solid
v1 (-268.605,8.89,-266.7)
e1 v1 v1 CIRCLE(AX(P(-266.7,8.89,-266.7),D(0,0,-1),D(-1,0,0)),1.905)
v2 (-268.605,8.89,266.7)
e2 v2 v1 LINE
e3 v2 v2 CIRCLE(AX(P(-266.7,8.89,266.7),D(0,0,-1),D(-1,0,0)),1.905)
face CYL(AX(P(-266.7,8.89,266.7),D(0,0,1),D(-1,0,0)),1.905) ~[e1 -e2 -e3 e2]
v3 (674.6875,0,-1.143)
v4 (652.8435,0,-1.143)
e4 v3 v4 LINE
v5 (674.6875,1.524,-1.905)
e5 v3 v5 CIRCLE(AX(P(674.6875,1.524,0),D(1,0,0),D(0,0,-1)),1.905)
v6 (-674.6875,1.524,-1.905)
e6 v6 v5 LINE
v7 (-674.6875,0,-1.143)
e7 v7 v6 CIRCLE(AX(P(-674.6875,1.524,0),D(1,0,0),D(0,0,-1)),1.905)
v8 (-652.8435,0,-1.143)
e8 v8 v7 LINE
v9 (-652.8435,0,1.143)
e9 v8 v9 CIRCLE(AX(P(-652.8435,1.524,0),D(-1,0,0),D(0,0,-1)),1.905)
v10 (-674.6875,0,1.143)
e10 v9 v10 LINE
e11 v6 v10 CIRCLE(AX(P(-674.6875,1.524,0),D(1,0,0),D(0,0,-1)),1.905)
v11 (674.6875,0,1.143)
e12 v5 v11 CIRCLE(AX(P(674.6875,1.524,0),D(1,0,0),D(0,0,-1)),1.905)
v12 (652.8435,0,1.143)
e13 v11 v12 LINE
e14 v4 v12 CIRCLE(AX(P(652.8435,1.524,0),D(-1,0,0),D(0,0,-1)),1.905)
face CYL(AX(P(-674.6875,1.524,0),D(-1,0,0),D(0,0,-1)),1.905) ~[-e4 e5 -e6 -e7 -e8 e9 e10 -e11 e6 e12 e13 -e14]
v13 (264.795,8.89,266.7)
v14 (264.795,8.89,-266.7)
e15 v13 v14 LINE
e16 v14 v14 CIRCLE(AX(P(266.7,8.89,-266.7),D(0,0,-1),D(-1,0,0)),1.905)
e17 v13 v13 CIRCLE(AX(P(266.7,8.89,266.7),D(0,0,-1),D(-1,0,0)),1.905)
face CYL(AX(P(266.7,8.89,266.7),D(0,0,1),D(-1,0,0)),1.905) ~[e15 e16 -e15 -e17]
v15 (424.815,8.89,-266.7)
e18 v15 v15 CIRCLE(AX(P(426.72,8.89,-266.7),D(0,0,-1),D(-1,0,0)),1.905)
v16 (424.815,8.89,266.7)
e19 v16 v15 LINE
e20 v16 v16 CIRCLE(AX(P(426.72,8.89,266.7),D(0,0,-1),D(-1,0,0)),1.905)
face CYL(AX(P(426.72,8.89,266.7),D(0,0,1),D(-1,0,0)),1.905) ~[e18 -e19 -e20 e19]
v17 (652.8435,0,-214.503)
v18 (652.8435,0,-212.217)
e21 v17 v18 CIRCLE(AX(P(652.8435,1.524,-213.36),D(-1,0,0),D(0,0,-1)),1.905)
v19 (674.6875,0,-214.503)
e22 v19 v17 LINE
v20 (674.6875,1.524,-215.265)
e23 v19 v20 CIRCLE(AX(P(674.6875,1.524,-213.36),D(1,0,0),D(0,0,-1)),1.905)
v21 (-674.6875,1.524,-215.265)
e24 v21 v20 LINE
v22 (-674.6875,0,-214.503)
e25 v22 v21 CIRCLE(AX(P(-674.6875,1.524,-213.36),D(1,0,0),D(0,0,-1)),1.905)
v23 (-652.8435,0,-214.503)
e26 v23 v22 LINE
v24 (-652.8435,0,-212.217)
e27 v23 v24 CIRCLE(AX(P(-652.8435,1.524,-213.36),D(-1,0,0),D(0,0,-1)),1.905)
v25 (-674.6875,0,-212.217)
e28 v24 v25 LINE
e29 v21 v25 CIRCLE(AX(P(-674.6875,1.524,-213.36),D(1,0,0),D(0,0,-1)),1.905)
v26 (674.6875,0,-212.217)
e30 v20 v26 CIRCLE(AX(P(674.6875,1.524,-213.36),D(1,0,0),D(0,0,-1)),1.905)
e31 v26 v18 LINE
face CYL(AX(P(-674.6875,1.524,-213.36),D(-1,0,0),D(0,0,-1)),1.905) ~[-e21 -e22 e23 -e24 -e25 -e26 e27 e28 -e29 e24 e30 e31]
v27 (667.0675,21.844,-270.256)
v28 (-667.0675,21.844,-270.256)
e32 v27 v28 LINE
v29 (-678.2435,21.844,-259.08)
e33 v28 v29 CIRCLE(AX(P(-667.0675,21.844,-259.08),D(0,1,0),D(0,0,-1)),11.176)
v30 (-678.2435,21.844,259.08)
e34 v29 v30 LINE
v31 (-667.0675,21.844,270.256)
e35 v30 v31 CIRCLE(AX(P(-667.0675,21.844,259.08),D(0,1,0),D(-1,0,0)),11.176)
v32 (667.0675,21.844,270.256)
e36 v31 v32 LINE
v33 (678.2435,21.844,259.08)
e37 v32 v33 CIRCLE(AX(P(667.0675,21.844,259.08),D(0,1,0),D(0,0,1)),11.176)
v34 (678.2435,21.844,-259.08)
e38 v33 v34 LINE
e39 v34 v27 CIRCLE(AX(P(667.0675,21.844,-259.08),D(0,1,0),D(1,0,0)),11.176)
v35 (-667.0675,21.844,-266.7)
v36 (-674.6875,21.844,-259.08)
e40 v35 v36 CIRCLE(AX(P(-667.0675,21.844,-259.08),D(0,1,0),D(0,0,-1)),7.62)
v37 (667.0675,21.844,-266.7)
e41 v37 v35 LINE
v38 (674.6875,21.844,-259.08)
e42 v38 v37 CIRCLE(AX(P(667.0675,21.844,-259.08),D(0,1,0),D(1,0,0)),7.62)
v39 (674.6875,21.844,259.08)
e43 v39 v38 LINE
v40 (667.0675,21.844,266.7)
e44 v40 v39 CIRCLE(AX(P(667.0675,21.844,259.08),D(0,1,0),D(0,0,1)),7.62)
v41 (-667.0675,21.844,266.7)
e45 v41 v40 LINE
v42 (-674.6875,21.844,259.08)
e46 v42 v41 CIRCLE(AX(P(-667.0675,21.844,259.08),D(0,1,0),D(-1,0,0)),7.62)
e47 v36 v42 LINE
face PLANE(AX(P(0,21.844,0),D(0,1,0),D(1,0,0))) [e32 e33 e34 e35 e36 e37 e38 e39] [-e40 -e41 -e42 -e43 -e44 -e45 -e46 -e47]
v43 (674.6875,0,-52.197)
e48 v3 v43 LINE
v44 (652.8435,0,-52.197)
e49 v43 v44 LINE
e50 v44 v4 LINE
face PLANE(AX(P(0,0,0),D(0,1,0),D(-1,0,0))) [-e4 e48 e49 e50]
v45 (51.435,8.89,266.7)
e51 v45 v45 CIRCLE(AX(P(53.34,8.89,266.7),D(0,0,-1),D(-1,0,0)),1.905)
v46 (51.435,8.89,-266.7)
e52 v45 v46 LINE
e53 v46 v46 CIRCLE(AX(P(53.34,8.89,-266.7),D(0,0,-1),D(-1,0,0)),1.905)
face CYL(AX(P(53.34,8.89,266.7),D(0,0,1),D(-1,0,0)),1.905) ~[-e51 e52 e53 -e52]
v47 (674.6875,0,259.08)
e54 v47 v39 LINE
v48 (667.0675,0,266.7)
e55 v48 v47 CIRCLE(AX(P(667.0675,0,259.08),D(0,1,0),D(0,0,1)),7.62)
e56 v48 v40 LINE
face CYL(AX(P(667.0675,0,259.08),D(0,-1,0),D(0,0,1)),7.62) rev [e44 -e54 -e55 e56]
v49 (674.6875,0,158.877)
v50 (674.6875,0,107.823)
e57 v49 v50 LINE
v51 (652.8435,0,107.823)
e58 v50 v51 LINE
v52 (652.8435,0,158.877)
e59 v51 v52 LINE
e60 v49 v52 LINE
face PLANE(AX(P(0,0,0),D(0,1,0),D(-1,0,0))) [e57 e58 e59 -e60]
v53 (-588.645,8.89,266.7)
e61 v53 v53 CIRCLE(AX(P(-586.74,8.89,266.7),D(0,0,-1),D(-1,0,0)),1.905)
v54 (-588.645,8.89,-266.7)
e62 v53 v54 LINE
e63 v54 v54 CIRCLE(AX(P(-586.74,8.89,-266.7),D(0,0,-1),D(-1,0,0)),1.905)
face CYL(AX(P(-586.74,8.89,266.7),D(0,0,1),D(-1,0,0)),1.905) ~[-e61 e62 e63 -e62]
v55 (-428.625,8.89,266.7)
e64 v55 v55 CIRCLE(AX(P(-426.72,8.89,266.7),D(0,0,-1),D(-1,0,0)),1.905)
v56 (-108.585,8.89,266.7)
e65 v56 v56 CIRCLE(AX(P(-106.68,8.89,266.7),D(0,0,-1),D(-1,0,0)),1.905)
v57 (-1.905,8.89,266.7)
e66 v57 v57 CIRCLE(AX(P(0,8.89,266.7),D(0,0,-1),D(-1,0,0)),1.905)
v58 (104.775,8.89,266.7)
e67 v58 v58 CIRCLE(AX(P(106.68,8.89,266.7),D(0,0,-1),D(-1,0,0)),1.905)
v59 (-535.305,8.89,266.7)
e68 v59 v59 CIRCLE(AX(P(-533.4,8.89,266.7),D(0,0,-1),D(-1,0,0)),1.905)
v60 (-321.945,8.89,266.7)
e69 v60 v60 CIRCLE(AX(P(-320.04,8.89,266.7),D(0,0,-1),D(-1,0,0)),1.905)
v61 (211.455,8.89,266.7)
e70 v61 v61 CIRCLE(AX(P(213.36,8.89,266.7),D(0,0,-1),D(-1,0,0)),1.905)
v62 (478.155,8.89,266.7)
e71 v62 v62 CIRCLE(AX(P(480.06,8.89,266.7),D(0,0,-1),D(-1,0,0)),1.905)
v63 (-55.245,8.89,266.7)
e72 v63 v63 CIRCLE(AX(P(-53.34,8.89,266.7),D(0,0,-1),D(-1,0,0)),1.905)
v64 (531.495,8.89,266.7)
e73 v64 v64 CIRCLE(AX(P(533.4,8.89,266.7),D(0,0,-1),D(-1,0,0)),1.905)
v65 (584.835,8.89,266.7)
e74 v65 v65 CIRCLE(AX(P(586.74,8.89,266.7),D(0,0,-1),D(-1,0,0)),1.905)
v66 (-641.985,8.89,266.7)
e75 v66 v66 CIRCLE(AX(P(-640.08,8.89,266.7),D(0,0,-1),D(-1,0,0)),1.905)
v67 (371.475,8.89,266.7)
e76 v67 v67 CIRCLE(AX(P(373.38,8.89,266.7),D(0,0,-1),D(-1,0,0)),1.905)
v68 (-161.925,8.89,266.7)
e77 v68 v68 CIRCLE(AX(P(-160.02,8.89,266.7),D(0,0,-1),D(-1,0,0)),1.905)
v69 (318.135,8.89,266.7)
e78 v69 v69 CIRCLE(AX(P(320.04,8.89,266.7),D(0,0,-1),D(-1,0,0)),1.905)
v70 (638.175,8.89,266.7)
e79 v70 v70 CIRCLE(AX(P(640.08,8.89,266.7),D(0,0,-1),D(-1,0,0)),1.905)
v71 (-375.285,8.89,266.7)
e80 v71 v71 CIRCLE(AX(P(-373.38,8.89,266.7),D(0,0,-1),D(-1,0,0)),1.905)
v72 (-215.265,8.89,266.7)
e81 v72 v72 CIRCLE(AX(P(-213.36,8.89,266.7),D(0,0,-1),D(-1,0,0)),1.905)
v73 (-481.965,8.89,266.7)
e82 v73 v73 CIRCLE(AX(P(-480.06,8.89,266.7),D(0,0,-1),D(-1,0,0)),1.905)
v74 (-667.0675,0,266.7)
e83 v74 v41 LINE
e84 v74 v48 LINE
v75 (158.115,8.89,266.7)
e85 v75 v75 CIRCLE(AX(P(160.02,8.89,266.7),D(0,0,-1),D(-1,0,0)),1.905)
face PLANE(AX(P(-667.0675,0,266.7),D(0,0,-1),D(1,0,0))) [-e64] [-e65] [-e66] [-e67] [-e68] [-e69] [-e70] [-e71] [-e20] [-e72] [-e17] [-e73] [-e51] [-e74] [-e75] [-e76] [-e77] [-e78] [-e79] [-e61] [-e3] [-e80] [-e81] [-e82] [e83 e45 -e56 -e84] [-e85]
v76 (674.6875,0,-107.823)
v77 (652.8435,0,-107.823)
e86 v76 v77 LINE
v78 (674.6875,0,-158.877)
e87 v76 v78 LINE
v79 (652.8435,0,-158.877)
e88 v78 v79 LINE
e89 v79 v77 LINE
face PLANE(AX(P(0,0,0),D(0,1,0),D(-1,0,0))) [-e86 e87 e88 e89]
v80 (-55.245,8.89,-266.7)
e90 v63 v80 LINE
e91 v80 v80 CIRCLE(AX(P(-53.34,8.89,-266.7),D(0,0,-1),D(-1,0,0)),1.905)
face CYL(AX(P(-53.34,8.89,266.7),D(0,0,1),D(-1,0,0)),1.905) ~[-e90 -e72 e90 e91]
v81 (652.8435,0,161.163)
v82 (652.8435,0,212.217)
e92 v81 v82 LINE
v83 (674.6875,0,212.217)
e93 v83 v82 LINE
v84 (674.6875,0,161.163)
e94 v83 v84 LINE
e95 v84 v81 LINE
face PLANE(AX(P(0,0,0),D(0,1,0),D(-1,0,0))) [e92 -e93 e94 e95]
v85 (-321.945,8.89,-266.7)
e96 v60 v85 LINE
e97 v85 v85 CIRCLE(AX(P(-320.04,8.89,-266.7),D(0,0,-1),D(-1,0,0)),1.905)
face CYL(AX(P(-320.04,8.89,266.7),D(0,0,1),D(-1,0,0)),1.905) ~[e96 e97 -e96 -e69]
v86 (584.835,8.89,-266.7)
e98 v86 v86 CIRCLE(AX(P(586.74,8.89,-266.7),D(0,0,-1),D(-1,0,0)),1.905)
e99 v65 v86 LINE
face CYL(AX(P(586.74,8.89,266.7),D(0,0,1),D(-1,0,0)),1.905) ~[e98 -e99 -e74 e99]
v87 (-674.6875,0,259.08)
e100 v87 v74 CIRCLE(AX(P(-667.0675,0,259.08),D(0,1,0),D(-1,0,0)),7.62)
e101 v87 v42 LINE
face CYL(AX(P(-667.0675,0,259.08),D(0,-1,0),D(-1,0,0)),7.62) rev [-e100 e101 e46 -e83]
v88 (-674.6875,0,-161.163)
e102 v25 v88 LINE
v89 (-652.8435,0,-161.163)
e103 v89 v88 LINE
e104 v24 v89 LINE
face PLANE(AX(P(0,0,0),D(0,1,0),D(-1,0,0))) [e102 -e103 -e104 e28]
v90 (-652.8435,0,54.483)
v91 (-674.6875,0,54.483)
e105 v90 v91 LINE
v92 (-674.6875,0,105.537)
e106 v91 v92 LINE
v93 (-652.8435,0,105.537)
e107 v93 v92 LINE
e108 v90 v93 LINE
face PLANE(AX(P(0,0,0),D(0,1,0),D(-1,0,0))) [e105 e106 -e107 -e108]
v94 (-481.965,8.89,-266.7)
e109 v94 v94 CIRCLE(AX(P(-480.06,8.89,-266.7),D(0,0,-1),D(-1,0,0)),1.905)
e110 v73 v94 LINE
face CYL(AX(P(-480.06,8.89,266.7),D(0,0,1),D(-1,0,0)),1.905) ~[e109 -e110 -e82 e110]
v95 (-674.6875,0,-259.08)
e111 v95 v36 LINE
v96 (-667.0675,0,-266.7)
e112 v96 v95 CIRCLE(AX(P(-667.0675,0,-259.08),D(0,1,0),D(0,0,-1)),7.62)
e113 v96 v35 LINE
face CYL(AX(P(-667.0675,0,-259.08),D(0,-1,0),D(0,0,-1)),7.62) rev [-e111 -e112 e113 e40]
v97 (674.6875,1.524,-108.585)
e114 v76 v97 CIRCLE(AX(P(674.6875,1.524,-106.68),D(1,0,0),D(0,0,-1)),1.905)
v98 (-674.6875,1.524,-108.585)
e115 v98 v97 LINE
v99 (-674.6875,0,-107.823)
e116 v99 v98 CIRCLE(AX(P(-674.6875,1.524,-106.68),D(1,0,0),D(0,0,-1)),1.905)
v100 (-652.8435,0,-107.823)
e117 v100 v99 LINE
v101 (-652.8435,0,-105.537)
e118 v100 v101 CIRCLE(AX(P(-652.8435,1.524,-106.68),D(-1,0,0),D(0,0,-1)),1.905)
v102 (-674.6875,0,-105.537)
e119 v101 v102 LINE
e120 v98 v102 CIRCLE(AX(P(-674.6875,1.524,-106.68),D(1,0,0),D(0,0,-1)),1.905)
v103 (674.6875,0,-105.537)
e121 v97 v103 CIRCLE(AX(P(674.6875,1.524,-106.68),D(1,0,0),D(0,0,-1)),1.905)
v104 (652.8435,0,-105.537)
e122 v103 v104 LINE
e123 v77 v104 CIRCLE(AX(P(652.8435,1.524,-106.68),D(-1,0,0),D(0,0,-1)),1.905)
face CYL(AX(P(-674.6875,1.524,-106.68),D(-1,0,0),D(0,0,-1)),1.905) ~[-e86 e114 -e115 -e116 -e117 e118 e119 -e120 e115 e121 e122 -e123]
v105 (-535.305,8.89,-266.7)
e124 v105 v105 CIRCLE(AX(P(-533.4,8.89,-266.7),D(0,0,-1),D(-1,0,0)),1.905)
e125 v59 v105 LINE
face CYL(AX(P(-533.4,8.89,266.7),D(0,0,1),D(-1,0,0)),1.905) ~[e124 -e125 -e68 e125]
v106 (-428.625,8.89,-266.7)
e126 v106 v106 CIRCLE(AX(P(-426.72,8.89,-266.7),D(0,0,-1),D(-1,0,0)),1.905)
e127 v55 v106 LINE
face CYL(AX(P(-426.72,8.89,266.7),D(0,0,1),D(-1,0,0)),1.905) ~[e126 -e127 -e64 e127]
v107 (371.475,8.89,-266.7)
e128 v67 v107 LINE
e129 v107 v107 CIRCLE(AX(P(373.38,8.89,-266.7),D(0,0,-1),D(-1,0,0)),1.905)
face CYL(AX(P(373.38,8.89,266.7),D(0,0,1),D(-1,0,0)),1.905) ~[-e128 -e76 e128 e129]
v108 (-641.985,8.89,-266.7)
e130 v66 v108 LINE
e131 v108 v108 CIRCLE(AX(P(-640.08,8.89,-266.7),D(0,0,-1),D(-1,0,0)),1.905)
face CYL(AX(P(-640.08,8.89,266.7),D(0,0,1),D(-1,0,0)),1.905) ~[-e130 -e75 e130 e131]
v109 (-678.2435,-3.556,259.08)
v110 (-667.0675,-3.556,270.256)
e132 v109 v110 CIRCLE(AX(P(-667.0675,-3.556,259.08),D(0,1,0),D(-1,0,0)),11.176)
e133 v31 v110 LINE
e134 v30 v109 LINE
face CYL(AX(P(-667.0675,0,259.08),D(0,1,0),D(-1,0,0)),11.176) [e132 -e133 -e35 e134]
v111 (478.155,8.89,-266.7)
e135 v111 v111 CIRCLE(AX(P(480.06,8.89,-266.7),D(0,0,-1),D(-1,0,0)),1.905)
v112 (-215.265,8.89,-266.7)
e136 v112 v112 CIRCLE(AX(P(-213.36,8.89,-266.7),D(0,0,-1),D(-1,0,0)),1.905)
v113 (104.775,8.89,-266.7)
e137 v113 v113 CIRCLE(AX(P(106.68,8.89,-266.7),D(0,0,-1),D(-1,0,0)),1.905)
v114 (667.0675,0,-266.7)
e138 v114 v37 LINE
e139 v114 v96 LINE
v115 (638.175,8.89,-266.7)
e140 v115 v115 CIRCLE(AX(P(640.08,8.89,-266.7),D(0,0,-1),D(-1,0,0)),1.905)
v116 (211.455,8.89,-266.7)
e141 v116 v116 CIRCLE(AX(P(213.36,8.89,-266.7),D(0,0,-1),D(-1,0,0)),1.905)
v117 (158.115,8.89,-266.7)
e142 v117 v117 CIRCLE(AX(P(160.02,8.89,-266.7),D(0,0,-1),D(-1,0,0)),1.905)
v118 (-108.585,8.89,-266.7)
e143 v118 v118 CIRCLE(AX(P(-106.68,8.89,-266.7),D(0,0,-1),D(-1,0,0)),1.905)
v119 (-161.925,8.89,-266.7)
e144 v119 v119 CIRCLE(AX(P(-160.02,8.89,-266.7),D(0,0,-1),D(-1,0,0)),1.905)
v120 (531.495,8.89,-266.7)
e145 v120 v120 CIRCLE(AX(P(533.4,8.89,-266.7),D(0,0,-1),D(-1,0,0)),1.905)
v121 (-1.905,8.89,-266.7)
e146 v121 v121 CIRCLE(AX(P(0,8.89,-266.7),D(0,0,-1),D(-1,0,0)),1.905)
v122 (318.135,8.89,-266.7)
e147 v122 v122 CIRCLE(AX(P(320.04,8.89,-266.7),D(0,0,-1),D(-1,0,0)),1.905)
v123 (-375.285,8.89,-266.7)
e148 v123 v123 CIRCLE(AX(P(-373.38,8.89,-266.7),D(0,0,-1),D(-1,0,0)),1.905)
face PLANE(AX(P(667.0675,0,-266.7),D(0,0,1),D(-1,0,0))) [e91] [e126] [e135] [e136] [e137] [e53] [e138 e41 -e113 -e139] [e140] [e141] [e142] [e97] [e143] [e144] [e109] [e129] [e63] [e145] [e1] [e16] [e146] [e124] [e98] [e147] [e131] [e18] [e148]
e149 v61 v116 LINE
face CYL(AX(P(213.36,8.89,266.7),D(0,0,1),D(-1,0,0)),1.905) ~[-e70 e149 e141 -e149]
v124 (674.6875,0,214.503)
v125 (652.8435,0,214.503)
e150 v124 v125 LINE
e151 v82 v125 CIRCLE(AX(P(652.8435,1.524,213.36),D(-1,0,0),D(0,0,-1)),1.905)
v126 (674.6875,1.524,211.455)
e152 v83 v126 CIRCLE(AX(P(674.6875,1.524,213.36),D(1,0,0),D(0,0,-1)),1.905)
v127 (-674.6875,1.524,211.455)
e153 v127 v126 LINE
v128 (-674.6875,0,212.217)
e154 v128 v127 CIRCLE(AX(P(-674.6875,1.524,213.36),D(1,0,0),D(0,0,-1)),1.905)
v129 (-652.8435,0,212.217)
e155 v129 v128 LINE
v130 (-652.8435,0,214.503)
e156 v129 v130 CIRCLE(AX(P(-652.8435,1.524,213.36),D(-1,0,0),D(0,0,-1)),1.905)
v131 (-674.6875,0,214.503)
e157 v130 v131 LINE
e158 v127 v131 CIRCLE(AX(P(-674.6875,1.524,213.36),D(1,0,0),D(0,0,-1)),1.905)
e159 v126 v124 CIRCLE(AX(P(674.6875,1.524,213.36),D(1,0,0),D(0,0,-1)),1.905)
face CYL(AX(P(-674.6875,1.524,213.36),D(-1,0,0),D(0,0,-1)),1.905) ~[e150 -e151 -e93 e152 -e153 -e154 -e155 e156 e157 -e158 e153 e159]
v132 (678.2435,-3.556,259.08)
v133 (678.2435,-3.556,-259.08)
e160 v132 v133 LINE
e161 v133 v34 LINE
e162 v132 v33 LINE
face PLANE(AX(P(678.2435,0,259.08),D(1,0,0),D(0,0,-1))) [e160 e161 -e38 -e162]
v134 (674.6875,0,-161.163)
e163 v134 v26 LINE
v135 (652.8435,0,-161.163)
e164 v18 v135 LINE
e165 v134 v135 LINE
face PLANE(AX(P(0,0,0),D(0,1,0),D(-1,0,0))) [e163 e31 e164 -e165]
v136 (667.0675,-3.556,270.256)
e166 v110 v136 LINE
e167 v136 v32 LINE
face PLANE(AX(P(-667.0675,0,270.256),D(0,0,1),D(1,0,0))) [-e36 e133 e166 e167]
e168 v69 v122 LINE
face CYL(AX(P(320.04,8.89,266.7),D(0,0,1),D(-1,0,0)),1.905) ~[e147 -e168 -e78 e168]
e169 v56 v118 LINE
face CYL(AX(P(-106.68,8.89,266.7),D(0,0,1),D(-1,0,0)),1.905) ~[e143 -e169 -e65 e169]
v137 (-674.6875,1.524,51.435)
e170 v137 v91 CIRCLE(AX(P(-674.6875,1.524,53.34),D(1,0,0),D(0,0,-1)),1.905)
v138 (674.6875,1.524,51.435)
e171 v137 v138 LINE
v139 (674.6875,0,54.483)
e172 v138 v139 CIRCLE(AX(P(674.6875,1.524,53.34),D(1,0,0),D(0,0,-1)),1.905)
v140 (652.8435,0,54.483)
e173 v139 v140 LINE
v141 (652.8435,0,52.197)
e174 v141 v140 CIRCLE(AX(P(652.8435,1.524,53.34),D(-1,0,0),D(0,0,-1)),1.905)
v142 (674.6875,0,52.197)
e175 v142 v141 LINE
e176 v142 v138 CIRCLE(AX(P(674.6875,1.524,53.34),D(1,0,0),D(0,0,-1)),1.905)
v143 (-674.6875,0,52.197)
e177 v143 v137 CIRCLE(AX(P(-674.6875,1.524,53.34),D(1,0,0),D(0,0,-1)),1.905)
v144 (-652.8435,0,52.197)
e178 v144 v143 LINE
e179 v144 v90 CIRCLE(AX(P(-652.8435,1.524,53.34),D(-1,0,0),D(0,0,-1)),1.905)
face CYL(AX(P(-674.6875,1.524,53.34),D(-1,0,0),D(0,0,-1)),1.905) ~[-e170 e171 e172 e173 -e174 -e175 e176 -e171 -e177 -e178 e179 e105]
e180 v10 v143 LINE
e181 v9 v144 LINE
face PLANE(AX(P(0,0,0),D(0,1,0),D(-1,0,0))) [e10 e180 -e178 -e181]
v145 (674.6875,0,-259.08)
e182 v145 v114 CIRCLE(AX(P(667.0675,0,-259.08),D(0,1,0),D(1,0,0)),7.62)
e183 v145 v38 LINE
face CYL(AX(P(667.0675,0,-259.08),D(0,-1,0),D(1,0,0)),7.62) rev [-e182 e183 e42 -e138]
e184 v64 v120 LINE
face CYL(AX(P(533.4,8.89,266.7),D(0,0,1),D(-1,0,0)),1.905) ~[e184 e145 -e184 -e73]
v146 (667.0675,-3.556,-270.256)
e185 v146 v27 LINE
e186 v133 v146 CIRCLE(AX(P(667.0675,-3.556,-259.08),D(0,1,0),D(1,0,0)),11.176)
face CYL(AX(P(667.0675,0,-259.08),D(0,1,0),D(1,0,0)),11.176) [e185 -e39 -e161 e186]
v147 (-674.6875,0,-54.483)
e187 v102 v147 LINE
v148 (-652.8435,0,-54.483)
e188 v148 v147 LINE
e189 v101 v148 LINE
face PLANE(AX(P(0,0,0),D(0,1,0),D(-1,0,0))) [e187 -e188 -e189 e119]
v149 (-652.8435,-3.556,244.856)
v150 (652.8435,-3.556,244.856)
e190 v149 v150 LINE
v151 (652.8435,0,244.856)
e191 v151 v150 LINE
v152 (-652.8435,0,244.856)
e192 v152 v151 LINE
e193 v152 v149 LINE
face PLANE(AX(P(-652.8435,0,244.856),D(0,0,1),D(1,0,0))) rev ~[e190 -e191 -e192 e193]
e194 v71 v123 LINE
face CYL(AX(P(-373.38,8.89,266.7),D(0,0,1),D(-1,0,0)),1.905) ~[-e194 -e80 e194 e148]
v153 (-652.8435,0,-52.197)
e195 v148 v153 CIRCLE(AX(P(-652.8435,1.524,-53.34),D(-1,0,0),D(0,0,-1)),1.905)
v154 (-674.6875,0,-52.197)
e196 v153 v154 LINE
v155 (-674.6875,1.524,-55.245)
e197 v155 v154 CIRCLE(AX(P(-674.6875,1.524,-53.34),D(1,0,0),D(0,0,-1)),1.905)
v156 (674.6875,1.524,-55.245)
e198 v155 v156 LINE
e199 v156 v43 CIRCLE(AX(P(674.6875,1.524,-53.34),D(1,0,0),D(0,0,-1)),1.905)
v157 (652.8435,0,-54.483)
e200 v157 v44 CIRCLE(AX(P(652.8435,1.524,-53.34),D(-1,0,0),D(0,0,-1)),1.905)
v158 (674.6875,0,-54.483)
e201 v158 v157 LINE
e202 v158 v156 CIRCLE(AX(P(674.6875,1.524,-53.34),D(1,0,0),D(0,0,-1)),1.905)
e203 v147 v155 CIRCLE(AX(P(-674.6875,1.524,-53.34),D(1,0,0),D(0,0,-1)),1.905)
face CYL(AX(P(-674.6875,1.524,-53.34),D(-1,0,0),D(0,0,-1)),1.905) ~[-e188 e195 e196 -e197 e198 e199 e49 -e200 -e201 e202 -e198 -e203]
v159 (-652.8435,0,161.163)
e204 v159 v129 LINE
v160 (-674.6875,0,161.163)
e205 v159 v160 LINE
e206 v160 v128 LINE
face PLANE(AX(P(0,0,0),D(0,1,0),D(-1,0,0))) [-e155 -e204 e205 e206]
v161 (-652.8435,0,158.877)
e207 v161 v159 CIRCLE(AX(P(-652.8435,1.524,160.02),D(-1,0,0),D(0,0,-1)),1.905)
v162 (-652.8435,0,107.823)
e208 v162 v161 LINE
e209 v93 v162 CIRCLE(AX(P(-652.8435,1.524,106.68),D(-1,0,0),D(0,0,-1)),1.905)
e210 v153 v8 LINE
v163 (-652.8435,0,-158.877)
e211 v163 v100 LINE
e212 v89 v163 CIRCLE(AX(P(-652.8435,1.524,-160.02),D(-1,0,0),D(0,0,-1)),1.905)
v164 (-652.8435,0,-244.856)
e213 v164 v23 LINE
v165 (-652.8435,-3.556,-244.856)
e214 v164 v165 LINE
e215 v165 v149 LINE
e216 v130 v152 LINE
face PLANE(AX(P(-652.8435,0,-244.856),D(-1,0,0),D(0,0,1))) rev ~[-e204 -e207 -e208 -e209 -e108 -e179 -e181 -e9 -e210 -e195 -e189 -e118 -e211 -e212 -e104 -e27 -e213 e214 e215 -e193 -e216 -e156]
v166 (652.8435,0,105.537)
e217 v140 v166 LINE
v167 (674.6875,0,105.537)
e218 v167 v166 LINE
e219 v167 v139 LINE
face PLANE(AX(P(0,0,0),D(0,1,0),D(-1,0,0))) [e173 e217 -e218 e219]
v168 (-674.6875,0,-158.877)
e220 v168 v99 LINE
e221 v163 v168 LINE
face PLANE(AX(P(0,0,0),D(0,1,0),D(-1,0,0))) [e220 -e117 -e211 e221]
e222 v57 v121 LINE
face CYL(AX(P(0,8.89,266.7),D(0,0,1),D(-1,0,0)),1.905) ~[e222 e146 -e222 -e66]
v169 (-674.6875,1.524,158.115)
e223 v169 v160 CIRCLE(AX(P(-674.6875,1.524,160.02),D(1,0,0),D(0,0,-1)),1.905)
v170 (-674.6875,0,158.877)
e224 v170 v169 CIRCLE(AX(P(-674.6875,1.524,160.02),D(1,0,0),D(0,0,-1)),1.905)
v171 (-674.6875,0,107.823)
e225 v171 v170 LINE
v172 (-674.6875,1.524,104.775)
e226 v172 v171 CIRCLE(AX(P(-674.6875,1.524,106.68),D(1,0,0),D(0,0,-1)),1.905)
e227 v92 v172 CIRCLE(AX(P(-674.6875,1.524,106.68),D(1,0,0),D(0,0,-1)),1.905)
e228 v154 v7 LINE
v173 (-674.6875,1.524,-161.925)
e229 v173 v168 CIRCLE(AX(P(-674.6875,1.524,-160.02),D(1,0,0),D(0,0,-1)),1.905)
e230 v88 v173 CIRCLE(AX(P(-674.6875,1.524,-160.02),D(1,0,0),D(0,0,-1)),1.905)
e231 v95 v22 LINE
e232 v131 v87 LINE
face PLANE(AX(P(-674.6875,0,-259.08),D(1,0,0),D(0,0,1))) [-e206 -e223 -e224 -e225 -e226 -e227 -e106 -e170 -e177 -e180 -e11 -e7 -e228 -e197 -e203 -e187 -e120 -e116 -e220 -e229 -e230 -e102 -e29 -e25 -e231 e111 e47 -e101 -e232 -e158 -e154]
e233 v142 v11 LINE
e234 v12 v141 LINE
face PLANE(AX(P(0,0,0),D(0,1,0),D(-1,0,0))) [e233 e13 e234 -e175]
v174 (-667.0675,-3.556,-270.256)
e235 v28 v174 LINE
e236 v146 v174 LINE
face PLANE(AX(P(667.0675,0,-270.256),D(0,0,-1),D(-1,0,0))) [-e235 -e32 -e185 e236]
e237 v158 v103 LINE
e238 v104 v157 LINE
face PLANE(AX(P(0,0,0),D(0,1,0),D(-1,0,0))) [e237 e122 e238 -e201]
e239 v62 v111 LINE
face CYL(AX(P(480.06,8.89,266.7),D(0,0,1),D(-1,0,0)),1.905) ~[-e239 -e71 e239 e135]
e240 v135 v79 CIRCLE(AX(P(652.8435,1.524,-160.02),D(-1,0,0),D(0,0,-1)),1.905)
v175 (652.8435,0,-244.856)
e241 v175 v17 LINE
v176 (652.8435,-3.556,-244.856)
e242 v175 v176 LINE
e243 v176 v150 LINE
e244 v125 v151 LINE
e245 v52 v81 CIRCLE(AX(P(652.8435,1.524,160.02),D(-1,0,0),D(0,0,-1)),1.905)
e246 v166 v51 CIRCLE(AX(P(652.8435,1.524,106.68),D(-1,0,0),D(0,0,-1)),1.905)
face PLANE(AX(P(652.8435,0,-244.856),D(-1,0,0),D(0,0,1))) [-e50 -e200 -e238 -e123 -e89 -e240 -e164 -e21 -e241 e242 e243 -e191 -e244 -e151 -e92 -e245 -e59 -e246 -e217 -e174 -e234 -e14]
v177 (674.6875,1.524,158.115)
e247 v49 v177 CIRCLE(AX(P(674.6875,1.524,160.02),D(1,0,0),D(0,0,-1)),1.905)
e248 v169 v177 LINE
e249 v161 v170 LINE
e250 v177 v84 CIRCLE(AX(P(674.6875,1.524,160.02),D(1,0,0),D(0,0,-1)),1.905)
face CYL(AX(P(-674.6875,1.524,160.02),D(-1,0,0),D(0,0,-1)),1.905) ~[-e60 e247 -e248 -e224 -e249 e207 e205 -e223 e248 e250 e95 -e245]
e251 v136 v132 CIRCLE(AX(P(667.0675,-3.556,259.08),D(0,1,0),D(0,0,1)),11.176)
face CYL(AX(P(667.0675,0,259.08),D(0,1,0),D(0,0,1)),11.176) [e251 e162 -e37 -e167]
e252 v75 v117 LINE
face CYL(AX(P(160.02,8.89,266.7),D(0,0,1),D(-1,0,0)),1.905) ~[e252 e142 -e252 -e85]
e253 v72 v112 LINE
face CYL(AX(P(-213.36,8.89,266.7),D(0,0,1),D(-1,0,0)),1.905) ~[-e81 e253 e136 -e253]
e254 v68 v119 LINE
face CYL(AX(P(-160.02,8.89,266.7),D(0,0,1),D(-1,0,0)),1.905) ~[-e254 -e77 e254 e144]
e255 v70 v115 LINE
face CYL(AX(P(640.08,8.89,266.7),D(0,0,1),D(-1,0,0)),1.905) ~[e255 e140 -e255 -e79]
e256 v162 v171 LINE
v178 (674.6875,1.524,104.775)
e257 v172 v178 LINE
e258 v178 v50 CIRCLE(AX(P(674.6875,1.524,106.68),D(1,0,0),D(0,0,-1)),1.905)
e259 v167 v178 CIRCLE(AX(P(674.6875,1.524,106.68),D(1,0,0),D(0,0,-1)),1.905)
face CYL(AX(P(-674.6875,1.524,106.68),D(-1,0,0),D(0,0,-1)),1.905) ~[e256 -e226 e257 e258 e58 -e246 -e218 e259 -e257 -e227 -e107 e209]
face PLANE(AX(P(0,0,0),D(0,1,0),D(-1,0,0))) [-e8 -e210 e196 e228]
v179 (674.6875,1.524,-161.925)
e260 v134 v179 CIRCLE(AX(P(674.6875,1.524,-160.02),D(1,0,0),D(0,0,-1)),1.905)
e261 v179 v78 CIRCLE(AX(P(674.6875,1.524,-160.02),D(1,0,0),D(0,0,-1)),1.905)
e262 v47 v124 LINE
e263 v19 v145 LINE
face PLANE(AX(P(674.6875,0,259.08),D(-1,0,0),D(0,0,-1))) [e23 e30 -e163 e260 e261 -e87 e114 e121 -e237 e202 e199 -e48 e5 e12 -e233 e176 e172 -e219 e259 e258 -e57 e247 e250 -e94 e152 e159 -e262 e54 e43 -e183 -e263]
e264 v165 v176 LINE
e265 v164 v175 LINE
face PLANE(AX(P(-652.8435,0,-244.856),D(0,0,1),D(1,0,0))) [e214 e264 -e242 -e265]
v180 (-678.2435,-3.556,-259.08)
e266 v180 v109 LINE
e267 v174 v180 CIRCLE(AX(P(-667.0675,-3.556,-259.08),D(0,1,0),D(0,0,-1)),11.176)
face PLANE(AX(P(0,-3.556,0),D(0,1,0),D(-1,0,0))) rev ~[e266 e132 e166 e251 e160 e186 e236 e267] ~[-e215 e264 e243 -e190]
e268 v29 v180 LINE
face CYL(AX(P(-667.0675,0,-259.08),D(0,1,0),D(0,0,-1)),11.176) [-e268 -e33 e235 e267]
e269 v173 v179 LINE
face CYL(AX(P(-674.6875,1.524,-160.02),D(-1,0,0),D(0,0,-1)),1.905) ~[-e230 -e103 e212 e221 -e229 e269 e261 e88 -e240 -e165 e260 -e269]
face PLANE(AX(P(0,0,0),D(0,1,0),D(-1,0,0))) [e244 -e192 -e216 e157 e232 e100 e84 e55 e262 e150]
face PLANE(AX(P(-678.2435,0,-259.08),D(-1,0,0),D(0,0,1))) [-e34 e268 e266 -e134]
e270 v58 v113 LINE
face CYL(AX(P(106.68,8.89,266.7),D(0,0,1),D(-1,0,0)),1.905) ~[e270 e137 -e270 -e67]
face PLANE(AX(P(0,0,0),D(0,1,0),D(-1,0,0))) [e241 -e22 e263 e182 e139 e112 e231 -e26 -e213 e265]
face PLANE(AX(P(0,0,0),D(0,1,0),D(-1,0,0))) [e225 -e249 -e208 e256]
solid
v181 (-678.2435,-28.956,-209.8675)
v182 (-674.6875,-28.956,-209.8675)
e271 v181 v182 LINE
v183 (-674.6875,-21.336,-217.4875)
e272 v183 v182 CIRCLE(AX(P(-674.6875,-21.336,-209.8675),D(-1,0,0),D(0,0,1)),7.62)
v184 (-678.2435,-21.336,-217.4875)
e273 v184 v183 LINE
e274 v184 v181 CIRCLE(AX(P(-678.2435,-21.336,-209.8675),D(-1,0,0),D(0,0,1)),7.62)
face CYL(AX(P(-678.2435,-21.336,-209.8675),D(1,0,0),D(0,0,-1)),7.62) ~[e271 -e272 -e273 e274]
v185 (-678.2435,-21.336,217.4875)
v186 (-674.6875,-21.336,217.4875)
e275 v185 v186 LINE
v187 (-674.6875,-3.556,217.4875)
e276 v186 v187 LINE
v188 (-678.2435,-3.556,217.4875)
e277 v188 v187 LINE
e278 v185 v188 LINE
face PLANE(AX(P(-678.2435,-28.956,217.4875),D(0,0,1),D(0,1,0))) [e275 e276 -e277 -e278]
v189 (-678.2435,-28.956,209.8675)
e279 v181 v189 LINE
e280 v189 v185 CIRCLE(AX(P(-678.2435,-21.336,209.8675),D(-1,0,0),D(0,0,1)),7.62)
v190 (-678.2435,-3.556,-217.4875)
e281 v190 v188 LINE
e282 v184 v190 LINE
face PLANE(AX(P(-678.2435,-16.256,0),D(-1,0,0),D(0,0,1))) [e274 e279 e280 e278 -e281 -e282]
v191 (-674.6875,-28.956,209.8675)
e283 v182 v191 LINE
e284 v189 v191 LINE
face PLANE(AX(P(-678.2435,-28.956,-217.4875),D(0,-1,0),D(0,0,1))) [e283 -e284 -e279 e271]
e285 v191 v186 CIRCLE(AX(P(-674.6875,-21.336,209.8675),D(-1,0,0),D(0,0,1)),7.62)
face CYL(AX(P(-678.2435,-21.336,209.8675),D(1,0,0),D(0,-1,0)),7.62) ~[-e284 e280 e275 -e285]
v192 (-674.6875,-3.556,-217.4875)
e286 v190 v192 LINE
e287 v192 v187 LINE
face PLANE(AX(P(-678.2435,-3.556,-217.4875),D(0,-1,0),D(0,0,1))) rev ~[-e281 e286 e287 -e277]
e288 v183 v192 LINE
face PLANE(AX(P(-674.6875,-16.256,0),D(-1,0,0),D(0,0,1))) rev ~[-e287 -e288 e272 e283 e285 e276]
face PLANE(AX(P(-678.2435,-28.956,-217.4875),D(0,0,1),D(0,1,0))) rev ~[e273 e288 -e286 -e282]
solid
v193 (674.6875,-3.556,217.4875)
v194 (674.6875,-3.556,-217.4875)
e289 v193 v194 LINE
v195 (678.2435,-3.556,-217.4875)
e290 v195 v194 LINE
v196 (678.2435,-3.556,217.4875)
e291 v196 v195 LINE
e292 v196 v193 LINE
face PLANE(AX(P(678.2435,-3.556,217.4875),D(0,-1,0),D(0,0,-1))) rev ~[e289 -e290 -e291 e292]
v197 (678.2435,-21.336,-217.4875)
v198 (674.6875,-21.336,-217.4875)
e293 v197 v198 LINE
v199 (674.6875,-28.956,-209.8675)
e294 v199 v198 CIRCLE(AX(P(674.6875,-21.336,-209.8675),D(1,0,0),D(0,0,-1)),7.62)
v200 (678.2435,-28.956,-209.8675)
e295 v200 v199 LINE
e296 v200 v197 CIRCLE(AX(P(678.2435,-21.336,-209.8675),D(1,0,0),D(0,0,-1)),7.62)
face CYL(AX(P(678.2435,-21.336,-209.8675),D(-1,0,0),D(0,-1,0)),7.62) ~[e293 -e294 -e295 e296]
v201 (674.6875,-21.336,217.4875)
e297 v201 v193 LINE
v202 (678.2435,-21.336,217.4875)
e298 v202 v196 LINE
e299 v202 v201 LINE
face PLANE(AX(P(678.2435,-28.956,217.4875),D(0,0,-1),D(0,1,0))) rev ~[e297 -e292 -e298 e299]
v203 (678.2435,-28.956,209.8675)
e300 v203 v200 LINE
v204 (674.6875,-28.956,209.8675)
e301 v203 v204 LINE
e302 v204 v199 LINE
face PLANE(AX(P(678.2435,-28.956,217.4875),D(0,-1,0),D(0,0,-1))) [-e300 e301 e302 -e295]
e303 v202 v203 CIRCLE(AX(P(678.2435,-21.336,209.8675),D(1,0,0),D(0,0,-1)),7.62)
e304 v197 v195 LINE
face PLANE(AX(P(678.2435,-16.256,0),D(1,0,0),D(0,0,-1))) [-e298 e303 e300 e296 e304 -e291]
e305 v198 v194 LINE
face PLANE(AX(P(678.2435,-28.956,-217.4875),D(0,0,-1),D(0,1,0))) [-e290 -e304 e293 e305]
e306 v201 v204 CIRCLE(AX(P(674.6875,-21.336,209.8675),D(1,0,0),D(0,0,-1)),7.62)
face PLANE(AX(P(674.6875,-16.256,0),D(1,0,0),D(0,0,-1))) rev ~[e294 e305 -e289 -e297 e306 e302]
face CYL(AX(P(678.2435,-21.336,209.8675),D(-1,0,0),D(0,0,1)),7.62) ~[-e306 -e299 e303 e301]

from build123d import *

# Parameters (mm, degrees)
BOSS_EXTRUDE1_DEPTH  = 21.844
SKETCH3_W            = 1305.687
SKETCH3_H            = 489.712
BOSS_EXTRUDE2_DEPTH  = 3.556
SKETCH10_R           = 1.905
BOSS_EXTRUDE13_DEPTH = 1349.375
LPATTERN1_COUNT      = 5
LPATTERN1_PITCH      = 53.34
LPATTERN1_COL_COUNT  = 5
LPATTERN1_COL_PITCH  = 53.34
SKETCH8_W            = 434.975
SKETCH8_H            = 25.4
BOSS_EXTRUDE11_DEPTH = 3.556
SKETCH11_R           = 1.905
BOSS_EXTRUDE14_DEPTH = 533.4
LPATTERN2_COUNT      = 13
LPATTERN2_PITCH      = 53.34
LPATTERN2_COL_COUNT  = 13
LPATTERN2_COL_PITCH  = 53.34
SKETCH9_W            = 434.975
SKETCH9_H            = 25.4
BOSS_EXTRUDE12_DEPTH = 3.556
FILLET1_R            = 7.62
FILLET2_R            = 7.62


with BuildPart() as part:
    # Sketch1 → Boss-Extrude1 (new body)
    with BuildSketch(Plane(origin=(0, 0, 0), x_dir=(1, 0, 0), z_dir=(0, 1, 0))):
        with BuildLine():
            Line((-667.0675, -270.256), (667.0675, -270.256))
            ThreePointArc((667.0675, -270.256), (674.970125387, -266.982625387), (678.2435, -259.08))
            Line((678.2435, -259.08), (678.2435, 259.08))
            ThreePointArc((678.2435, 259.08), (674.970125387, 266.982625387), (667.0675, 270.256))
            Line((667.0675, 270.256), (-667.0675, 270.256))
            ThreePointArc((-667.0675, 270.256), (-674.970125387, 266.982625387), (-678.2435, 259.08))
            Line((-678.2435, 259.08), (-678.2435, -259.08))
            ThreePointArc((-678.2435, -259.08), (-674.970125387, -266.982625387), (-667.0675, -270.256))
        make_face()
        with BuildLine():
            Line((-667.0675, -266.7), (667.0675, -266.7))
            ThreePointArc((667.0675, -266.7), (672.455653673, -264.468153673), (674.6875, -259.08))
            Line((674.6875, -259.08), (674.6875, 259.08))
            ThreePointArc((674.6875, 259.08), (672.455653673, 264.468153673), (667.0675, 266.7))
            Line((667.0675, 266.7), (-667.0675, 266.7))
            ThreePointArc((-667.0675, 266.7), (-672.455653673, 264.468153673), (-674.6875, 259.08))
            Line((-674.6875, 259.08), (-674.6875, -259.08))
            ThreePointArc((-674.6875, -259.08), (-672.455653673, -264.468153673), (-667.0675, -266.7))
        make_face(mode=Mode.SUBTRACT)
    extrude(amount=BOSS_EXTRUDE1_DEPTH)

    # Sketch3 → Boss-Extrude2 (add)
    with BuildSketch(Plane.XZ):
        with BuildLine():
            Line((-667.0675, 270.256), (667.0675, 270.256))
            ThreePointArc((667.0675, 270.256), (674.970125387, 266.982625387), (678.2435, 259.08))
            Line((678.2435, 259.08), (678.2435, -259.08))
            ThreePointArc((678.2435, -259.08), (674.970125387, -266.982625387), (667.0675, -270.256))
            Line((667.0675, -270.256), (-667.0675, -270.256))
            ThreePointArc((-667.0675, -270.256), (-674.970125387, -266.982625387), (-678.2435, -259.08))
            Line((-678.2435, -259.08), (-678.2435, 259.08))
            ThreePointArc((-678.2435, 259.08), (-674.970125387, 266.982625387), (-667.0675, 270.256))
        make_face()
        Rectangle(SKETCH3_W, SKETCH3_H, mode=Mode.SUBTRACT)
    extrude(amount=BOSS_EXTRUDE2_DEPTH)

    # Sketch10 → Boss-Extrude13 (add)
    with BuildSketch(Plane(origin=(-674.6875, 0, 0), x_dir=(0, 0, -1), z_dir=(1, 0, 0))):
        with Locations((0, 1.524)):
            Circle(SKETCH10_R)
    boss_extrude13 = extrude(amount=BOSS_EXTRUDE13_DEPTH)

    # LPattern1: Boss-Extrude13 ×5
    with Locations(*[(0, 0, i * LPATTERN1_PITCH) for i in range(1, LPATTERN1_COUNT)]):
        add(boss_extrude13)

    # LPattern1 col: Boss-Extrude13 ×5
    with Locations(*[(0, 0, -i * LPATTERN1_COL_PITCH) for i in range(1, LPATTERN1_COL_COUNT)]):
        add(boss_extrude13)

    # Sketch11 → Boss-Extrude14 (add)
    with BuildSketch(Plane(origin=(0, 0, 266.7), x_dir=(-1, 0, 0), z_dir=(0, 0, -1))):
        with Locations((0, 8.89)):
            Circle(SKETCH11_R)
    boss_extrude14 = extrude(amount=BOSS_EXTRUDE14_DEPTH)

    # LPattern2: Boss-Extrude14 ×13
    with Locations(*[(-i * LPATTERN2_PITCH, 0, 0) for i in range(1, LPATTERN2_COUNT)]):
        add(boss_extrude14)

    # LPattern2 col: Boss-Extrude14 ×13
    with Locations(*[(i * LPATTERN2_COL_PITCH, 0, 0) for i in range(1, LPATTERN2_COL_COUNT)]):
        add(boss_extrude14)


with BuildPart() as body_2:
    # Sketch8 → Boss-Extrude11 (new body)
    with BuildSketch(Plane.ZY.offset(678.2435)):
        with Locations((0, -16.256)):
            Rectangle(SKETCH8_W, SKETCH8_H)
    extrude(amount=-BOSS_EXTRUDE11_DEPTH)

    # Fillet1
    fillet1_edges = [body_2.edges().sort_by_distance(p)[0] for p in [
        (-676.4655, -28.956, 217.4875),
        (-676.4655, -28.956, -217.4875),
    ]]
    fillet(fillet1_edges, radius=FILLET1_R)


with BuildPart() as body_3:
    # Sketch9 → Boss-Extrude12 (new body)
    with BuildSketch(Plane(origin=(678.2435, 0, 0), x_dir=(0, 0, -1), z_dir=(1, 0, 0))):
        with Locations((0, -16.256)):
            Rectangle(SKETCH9_W, SKETCH9_H)
    extrude(amount=-BOSS_EXTRUDE12_DEPTH)

    # Fillet2
    fillet2_edges = [body_3.edges().sort_by_distance(p)[0] for p in [
        (676.4655, -28.956, -217.4875),
        (676.4655, -28.956, 217.4875),
    ]]
    fillet(fillet2_edges, radius=FILLET2_R)


solid = Compound([part.part, body_2.part, body_3.part])
